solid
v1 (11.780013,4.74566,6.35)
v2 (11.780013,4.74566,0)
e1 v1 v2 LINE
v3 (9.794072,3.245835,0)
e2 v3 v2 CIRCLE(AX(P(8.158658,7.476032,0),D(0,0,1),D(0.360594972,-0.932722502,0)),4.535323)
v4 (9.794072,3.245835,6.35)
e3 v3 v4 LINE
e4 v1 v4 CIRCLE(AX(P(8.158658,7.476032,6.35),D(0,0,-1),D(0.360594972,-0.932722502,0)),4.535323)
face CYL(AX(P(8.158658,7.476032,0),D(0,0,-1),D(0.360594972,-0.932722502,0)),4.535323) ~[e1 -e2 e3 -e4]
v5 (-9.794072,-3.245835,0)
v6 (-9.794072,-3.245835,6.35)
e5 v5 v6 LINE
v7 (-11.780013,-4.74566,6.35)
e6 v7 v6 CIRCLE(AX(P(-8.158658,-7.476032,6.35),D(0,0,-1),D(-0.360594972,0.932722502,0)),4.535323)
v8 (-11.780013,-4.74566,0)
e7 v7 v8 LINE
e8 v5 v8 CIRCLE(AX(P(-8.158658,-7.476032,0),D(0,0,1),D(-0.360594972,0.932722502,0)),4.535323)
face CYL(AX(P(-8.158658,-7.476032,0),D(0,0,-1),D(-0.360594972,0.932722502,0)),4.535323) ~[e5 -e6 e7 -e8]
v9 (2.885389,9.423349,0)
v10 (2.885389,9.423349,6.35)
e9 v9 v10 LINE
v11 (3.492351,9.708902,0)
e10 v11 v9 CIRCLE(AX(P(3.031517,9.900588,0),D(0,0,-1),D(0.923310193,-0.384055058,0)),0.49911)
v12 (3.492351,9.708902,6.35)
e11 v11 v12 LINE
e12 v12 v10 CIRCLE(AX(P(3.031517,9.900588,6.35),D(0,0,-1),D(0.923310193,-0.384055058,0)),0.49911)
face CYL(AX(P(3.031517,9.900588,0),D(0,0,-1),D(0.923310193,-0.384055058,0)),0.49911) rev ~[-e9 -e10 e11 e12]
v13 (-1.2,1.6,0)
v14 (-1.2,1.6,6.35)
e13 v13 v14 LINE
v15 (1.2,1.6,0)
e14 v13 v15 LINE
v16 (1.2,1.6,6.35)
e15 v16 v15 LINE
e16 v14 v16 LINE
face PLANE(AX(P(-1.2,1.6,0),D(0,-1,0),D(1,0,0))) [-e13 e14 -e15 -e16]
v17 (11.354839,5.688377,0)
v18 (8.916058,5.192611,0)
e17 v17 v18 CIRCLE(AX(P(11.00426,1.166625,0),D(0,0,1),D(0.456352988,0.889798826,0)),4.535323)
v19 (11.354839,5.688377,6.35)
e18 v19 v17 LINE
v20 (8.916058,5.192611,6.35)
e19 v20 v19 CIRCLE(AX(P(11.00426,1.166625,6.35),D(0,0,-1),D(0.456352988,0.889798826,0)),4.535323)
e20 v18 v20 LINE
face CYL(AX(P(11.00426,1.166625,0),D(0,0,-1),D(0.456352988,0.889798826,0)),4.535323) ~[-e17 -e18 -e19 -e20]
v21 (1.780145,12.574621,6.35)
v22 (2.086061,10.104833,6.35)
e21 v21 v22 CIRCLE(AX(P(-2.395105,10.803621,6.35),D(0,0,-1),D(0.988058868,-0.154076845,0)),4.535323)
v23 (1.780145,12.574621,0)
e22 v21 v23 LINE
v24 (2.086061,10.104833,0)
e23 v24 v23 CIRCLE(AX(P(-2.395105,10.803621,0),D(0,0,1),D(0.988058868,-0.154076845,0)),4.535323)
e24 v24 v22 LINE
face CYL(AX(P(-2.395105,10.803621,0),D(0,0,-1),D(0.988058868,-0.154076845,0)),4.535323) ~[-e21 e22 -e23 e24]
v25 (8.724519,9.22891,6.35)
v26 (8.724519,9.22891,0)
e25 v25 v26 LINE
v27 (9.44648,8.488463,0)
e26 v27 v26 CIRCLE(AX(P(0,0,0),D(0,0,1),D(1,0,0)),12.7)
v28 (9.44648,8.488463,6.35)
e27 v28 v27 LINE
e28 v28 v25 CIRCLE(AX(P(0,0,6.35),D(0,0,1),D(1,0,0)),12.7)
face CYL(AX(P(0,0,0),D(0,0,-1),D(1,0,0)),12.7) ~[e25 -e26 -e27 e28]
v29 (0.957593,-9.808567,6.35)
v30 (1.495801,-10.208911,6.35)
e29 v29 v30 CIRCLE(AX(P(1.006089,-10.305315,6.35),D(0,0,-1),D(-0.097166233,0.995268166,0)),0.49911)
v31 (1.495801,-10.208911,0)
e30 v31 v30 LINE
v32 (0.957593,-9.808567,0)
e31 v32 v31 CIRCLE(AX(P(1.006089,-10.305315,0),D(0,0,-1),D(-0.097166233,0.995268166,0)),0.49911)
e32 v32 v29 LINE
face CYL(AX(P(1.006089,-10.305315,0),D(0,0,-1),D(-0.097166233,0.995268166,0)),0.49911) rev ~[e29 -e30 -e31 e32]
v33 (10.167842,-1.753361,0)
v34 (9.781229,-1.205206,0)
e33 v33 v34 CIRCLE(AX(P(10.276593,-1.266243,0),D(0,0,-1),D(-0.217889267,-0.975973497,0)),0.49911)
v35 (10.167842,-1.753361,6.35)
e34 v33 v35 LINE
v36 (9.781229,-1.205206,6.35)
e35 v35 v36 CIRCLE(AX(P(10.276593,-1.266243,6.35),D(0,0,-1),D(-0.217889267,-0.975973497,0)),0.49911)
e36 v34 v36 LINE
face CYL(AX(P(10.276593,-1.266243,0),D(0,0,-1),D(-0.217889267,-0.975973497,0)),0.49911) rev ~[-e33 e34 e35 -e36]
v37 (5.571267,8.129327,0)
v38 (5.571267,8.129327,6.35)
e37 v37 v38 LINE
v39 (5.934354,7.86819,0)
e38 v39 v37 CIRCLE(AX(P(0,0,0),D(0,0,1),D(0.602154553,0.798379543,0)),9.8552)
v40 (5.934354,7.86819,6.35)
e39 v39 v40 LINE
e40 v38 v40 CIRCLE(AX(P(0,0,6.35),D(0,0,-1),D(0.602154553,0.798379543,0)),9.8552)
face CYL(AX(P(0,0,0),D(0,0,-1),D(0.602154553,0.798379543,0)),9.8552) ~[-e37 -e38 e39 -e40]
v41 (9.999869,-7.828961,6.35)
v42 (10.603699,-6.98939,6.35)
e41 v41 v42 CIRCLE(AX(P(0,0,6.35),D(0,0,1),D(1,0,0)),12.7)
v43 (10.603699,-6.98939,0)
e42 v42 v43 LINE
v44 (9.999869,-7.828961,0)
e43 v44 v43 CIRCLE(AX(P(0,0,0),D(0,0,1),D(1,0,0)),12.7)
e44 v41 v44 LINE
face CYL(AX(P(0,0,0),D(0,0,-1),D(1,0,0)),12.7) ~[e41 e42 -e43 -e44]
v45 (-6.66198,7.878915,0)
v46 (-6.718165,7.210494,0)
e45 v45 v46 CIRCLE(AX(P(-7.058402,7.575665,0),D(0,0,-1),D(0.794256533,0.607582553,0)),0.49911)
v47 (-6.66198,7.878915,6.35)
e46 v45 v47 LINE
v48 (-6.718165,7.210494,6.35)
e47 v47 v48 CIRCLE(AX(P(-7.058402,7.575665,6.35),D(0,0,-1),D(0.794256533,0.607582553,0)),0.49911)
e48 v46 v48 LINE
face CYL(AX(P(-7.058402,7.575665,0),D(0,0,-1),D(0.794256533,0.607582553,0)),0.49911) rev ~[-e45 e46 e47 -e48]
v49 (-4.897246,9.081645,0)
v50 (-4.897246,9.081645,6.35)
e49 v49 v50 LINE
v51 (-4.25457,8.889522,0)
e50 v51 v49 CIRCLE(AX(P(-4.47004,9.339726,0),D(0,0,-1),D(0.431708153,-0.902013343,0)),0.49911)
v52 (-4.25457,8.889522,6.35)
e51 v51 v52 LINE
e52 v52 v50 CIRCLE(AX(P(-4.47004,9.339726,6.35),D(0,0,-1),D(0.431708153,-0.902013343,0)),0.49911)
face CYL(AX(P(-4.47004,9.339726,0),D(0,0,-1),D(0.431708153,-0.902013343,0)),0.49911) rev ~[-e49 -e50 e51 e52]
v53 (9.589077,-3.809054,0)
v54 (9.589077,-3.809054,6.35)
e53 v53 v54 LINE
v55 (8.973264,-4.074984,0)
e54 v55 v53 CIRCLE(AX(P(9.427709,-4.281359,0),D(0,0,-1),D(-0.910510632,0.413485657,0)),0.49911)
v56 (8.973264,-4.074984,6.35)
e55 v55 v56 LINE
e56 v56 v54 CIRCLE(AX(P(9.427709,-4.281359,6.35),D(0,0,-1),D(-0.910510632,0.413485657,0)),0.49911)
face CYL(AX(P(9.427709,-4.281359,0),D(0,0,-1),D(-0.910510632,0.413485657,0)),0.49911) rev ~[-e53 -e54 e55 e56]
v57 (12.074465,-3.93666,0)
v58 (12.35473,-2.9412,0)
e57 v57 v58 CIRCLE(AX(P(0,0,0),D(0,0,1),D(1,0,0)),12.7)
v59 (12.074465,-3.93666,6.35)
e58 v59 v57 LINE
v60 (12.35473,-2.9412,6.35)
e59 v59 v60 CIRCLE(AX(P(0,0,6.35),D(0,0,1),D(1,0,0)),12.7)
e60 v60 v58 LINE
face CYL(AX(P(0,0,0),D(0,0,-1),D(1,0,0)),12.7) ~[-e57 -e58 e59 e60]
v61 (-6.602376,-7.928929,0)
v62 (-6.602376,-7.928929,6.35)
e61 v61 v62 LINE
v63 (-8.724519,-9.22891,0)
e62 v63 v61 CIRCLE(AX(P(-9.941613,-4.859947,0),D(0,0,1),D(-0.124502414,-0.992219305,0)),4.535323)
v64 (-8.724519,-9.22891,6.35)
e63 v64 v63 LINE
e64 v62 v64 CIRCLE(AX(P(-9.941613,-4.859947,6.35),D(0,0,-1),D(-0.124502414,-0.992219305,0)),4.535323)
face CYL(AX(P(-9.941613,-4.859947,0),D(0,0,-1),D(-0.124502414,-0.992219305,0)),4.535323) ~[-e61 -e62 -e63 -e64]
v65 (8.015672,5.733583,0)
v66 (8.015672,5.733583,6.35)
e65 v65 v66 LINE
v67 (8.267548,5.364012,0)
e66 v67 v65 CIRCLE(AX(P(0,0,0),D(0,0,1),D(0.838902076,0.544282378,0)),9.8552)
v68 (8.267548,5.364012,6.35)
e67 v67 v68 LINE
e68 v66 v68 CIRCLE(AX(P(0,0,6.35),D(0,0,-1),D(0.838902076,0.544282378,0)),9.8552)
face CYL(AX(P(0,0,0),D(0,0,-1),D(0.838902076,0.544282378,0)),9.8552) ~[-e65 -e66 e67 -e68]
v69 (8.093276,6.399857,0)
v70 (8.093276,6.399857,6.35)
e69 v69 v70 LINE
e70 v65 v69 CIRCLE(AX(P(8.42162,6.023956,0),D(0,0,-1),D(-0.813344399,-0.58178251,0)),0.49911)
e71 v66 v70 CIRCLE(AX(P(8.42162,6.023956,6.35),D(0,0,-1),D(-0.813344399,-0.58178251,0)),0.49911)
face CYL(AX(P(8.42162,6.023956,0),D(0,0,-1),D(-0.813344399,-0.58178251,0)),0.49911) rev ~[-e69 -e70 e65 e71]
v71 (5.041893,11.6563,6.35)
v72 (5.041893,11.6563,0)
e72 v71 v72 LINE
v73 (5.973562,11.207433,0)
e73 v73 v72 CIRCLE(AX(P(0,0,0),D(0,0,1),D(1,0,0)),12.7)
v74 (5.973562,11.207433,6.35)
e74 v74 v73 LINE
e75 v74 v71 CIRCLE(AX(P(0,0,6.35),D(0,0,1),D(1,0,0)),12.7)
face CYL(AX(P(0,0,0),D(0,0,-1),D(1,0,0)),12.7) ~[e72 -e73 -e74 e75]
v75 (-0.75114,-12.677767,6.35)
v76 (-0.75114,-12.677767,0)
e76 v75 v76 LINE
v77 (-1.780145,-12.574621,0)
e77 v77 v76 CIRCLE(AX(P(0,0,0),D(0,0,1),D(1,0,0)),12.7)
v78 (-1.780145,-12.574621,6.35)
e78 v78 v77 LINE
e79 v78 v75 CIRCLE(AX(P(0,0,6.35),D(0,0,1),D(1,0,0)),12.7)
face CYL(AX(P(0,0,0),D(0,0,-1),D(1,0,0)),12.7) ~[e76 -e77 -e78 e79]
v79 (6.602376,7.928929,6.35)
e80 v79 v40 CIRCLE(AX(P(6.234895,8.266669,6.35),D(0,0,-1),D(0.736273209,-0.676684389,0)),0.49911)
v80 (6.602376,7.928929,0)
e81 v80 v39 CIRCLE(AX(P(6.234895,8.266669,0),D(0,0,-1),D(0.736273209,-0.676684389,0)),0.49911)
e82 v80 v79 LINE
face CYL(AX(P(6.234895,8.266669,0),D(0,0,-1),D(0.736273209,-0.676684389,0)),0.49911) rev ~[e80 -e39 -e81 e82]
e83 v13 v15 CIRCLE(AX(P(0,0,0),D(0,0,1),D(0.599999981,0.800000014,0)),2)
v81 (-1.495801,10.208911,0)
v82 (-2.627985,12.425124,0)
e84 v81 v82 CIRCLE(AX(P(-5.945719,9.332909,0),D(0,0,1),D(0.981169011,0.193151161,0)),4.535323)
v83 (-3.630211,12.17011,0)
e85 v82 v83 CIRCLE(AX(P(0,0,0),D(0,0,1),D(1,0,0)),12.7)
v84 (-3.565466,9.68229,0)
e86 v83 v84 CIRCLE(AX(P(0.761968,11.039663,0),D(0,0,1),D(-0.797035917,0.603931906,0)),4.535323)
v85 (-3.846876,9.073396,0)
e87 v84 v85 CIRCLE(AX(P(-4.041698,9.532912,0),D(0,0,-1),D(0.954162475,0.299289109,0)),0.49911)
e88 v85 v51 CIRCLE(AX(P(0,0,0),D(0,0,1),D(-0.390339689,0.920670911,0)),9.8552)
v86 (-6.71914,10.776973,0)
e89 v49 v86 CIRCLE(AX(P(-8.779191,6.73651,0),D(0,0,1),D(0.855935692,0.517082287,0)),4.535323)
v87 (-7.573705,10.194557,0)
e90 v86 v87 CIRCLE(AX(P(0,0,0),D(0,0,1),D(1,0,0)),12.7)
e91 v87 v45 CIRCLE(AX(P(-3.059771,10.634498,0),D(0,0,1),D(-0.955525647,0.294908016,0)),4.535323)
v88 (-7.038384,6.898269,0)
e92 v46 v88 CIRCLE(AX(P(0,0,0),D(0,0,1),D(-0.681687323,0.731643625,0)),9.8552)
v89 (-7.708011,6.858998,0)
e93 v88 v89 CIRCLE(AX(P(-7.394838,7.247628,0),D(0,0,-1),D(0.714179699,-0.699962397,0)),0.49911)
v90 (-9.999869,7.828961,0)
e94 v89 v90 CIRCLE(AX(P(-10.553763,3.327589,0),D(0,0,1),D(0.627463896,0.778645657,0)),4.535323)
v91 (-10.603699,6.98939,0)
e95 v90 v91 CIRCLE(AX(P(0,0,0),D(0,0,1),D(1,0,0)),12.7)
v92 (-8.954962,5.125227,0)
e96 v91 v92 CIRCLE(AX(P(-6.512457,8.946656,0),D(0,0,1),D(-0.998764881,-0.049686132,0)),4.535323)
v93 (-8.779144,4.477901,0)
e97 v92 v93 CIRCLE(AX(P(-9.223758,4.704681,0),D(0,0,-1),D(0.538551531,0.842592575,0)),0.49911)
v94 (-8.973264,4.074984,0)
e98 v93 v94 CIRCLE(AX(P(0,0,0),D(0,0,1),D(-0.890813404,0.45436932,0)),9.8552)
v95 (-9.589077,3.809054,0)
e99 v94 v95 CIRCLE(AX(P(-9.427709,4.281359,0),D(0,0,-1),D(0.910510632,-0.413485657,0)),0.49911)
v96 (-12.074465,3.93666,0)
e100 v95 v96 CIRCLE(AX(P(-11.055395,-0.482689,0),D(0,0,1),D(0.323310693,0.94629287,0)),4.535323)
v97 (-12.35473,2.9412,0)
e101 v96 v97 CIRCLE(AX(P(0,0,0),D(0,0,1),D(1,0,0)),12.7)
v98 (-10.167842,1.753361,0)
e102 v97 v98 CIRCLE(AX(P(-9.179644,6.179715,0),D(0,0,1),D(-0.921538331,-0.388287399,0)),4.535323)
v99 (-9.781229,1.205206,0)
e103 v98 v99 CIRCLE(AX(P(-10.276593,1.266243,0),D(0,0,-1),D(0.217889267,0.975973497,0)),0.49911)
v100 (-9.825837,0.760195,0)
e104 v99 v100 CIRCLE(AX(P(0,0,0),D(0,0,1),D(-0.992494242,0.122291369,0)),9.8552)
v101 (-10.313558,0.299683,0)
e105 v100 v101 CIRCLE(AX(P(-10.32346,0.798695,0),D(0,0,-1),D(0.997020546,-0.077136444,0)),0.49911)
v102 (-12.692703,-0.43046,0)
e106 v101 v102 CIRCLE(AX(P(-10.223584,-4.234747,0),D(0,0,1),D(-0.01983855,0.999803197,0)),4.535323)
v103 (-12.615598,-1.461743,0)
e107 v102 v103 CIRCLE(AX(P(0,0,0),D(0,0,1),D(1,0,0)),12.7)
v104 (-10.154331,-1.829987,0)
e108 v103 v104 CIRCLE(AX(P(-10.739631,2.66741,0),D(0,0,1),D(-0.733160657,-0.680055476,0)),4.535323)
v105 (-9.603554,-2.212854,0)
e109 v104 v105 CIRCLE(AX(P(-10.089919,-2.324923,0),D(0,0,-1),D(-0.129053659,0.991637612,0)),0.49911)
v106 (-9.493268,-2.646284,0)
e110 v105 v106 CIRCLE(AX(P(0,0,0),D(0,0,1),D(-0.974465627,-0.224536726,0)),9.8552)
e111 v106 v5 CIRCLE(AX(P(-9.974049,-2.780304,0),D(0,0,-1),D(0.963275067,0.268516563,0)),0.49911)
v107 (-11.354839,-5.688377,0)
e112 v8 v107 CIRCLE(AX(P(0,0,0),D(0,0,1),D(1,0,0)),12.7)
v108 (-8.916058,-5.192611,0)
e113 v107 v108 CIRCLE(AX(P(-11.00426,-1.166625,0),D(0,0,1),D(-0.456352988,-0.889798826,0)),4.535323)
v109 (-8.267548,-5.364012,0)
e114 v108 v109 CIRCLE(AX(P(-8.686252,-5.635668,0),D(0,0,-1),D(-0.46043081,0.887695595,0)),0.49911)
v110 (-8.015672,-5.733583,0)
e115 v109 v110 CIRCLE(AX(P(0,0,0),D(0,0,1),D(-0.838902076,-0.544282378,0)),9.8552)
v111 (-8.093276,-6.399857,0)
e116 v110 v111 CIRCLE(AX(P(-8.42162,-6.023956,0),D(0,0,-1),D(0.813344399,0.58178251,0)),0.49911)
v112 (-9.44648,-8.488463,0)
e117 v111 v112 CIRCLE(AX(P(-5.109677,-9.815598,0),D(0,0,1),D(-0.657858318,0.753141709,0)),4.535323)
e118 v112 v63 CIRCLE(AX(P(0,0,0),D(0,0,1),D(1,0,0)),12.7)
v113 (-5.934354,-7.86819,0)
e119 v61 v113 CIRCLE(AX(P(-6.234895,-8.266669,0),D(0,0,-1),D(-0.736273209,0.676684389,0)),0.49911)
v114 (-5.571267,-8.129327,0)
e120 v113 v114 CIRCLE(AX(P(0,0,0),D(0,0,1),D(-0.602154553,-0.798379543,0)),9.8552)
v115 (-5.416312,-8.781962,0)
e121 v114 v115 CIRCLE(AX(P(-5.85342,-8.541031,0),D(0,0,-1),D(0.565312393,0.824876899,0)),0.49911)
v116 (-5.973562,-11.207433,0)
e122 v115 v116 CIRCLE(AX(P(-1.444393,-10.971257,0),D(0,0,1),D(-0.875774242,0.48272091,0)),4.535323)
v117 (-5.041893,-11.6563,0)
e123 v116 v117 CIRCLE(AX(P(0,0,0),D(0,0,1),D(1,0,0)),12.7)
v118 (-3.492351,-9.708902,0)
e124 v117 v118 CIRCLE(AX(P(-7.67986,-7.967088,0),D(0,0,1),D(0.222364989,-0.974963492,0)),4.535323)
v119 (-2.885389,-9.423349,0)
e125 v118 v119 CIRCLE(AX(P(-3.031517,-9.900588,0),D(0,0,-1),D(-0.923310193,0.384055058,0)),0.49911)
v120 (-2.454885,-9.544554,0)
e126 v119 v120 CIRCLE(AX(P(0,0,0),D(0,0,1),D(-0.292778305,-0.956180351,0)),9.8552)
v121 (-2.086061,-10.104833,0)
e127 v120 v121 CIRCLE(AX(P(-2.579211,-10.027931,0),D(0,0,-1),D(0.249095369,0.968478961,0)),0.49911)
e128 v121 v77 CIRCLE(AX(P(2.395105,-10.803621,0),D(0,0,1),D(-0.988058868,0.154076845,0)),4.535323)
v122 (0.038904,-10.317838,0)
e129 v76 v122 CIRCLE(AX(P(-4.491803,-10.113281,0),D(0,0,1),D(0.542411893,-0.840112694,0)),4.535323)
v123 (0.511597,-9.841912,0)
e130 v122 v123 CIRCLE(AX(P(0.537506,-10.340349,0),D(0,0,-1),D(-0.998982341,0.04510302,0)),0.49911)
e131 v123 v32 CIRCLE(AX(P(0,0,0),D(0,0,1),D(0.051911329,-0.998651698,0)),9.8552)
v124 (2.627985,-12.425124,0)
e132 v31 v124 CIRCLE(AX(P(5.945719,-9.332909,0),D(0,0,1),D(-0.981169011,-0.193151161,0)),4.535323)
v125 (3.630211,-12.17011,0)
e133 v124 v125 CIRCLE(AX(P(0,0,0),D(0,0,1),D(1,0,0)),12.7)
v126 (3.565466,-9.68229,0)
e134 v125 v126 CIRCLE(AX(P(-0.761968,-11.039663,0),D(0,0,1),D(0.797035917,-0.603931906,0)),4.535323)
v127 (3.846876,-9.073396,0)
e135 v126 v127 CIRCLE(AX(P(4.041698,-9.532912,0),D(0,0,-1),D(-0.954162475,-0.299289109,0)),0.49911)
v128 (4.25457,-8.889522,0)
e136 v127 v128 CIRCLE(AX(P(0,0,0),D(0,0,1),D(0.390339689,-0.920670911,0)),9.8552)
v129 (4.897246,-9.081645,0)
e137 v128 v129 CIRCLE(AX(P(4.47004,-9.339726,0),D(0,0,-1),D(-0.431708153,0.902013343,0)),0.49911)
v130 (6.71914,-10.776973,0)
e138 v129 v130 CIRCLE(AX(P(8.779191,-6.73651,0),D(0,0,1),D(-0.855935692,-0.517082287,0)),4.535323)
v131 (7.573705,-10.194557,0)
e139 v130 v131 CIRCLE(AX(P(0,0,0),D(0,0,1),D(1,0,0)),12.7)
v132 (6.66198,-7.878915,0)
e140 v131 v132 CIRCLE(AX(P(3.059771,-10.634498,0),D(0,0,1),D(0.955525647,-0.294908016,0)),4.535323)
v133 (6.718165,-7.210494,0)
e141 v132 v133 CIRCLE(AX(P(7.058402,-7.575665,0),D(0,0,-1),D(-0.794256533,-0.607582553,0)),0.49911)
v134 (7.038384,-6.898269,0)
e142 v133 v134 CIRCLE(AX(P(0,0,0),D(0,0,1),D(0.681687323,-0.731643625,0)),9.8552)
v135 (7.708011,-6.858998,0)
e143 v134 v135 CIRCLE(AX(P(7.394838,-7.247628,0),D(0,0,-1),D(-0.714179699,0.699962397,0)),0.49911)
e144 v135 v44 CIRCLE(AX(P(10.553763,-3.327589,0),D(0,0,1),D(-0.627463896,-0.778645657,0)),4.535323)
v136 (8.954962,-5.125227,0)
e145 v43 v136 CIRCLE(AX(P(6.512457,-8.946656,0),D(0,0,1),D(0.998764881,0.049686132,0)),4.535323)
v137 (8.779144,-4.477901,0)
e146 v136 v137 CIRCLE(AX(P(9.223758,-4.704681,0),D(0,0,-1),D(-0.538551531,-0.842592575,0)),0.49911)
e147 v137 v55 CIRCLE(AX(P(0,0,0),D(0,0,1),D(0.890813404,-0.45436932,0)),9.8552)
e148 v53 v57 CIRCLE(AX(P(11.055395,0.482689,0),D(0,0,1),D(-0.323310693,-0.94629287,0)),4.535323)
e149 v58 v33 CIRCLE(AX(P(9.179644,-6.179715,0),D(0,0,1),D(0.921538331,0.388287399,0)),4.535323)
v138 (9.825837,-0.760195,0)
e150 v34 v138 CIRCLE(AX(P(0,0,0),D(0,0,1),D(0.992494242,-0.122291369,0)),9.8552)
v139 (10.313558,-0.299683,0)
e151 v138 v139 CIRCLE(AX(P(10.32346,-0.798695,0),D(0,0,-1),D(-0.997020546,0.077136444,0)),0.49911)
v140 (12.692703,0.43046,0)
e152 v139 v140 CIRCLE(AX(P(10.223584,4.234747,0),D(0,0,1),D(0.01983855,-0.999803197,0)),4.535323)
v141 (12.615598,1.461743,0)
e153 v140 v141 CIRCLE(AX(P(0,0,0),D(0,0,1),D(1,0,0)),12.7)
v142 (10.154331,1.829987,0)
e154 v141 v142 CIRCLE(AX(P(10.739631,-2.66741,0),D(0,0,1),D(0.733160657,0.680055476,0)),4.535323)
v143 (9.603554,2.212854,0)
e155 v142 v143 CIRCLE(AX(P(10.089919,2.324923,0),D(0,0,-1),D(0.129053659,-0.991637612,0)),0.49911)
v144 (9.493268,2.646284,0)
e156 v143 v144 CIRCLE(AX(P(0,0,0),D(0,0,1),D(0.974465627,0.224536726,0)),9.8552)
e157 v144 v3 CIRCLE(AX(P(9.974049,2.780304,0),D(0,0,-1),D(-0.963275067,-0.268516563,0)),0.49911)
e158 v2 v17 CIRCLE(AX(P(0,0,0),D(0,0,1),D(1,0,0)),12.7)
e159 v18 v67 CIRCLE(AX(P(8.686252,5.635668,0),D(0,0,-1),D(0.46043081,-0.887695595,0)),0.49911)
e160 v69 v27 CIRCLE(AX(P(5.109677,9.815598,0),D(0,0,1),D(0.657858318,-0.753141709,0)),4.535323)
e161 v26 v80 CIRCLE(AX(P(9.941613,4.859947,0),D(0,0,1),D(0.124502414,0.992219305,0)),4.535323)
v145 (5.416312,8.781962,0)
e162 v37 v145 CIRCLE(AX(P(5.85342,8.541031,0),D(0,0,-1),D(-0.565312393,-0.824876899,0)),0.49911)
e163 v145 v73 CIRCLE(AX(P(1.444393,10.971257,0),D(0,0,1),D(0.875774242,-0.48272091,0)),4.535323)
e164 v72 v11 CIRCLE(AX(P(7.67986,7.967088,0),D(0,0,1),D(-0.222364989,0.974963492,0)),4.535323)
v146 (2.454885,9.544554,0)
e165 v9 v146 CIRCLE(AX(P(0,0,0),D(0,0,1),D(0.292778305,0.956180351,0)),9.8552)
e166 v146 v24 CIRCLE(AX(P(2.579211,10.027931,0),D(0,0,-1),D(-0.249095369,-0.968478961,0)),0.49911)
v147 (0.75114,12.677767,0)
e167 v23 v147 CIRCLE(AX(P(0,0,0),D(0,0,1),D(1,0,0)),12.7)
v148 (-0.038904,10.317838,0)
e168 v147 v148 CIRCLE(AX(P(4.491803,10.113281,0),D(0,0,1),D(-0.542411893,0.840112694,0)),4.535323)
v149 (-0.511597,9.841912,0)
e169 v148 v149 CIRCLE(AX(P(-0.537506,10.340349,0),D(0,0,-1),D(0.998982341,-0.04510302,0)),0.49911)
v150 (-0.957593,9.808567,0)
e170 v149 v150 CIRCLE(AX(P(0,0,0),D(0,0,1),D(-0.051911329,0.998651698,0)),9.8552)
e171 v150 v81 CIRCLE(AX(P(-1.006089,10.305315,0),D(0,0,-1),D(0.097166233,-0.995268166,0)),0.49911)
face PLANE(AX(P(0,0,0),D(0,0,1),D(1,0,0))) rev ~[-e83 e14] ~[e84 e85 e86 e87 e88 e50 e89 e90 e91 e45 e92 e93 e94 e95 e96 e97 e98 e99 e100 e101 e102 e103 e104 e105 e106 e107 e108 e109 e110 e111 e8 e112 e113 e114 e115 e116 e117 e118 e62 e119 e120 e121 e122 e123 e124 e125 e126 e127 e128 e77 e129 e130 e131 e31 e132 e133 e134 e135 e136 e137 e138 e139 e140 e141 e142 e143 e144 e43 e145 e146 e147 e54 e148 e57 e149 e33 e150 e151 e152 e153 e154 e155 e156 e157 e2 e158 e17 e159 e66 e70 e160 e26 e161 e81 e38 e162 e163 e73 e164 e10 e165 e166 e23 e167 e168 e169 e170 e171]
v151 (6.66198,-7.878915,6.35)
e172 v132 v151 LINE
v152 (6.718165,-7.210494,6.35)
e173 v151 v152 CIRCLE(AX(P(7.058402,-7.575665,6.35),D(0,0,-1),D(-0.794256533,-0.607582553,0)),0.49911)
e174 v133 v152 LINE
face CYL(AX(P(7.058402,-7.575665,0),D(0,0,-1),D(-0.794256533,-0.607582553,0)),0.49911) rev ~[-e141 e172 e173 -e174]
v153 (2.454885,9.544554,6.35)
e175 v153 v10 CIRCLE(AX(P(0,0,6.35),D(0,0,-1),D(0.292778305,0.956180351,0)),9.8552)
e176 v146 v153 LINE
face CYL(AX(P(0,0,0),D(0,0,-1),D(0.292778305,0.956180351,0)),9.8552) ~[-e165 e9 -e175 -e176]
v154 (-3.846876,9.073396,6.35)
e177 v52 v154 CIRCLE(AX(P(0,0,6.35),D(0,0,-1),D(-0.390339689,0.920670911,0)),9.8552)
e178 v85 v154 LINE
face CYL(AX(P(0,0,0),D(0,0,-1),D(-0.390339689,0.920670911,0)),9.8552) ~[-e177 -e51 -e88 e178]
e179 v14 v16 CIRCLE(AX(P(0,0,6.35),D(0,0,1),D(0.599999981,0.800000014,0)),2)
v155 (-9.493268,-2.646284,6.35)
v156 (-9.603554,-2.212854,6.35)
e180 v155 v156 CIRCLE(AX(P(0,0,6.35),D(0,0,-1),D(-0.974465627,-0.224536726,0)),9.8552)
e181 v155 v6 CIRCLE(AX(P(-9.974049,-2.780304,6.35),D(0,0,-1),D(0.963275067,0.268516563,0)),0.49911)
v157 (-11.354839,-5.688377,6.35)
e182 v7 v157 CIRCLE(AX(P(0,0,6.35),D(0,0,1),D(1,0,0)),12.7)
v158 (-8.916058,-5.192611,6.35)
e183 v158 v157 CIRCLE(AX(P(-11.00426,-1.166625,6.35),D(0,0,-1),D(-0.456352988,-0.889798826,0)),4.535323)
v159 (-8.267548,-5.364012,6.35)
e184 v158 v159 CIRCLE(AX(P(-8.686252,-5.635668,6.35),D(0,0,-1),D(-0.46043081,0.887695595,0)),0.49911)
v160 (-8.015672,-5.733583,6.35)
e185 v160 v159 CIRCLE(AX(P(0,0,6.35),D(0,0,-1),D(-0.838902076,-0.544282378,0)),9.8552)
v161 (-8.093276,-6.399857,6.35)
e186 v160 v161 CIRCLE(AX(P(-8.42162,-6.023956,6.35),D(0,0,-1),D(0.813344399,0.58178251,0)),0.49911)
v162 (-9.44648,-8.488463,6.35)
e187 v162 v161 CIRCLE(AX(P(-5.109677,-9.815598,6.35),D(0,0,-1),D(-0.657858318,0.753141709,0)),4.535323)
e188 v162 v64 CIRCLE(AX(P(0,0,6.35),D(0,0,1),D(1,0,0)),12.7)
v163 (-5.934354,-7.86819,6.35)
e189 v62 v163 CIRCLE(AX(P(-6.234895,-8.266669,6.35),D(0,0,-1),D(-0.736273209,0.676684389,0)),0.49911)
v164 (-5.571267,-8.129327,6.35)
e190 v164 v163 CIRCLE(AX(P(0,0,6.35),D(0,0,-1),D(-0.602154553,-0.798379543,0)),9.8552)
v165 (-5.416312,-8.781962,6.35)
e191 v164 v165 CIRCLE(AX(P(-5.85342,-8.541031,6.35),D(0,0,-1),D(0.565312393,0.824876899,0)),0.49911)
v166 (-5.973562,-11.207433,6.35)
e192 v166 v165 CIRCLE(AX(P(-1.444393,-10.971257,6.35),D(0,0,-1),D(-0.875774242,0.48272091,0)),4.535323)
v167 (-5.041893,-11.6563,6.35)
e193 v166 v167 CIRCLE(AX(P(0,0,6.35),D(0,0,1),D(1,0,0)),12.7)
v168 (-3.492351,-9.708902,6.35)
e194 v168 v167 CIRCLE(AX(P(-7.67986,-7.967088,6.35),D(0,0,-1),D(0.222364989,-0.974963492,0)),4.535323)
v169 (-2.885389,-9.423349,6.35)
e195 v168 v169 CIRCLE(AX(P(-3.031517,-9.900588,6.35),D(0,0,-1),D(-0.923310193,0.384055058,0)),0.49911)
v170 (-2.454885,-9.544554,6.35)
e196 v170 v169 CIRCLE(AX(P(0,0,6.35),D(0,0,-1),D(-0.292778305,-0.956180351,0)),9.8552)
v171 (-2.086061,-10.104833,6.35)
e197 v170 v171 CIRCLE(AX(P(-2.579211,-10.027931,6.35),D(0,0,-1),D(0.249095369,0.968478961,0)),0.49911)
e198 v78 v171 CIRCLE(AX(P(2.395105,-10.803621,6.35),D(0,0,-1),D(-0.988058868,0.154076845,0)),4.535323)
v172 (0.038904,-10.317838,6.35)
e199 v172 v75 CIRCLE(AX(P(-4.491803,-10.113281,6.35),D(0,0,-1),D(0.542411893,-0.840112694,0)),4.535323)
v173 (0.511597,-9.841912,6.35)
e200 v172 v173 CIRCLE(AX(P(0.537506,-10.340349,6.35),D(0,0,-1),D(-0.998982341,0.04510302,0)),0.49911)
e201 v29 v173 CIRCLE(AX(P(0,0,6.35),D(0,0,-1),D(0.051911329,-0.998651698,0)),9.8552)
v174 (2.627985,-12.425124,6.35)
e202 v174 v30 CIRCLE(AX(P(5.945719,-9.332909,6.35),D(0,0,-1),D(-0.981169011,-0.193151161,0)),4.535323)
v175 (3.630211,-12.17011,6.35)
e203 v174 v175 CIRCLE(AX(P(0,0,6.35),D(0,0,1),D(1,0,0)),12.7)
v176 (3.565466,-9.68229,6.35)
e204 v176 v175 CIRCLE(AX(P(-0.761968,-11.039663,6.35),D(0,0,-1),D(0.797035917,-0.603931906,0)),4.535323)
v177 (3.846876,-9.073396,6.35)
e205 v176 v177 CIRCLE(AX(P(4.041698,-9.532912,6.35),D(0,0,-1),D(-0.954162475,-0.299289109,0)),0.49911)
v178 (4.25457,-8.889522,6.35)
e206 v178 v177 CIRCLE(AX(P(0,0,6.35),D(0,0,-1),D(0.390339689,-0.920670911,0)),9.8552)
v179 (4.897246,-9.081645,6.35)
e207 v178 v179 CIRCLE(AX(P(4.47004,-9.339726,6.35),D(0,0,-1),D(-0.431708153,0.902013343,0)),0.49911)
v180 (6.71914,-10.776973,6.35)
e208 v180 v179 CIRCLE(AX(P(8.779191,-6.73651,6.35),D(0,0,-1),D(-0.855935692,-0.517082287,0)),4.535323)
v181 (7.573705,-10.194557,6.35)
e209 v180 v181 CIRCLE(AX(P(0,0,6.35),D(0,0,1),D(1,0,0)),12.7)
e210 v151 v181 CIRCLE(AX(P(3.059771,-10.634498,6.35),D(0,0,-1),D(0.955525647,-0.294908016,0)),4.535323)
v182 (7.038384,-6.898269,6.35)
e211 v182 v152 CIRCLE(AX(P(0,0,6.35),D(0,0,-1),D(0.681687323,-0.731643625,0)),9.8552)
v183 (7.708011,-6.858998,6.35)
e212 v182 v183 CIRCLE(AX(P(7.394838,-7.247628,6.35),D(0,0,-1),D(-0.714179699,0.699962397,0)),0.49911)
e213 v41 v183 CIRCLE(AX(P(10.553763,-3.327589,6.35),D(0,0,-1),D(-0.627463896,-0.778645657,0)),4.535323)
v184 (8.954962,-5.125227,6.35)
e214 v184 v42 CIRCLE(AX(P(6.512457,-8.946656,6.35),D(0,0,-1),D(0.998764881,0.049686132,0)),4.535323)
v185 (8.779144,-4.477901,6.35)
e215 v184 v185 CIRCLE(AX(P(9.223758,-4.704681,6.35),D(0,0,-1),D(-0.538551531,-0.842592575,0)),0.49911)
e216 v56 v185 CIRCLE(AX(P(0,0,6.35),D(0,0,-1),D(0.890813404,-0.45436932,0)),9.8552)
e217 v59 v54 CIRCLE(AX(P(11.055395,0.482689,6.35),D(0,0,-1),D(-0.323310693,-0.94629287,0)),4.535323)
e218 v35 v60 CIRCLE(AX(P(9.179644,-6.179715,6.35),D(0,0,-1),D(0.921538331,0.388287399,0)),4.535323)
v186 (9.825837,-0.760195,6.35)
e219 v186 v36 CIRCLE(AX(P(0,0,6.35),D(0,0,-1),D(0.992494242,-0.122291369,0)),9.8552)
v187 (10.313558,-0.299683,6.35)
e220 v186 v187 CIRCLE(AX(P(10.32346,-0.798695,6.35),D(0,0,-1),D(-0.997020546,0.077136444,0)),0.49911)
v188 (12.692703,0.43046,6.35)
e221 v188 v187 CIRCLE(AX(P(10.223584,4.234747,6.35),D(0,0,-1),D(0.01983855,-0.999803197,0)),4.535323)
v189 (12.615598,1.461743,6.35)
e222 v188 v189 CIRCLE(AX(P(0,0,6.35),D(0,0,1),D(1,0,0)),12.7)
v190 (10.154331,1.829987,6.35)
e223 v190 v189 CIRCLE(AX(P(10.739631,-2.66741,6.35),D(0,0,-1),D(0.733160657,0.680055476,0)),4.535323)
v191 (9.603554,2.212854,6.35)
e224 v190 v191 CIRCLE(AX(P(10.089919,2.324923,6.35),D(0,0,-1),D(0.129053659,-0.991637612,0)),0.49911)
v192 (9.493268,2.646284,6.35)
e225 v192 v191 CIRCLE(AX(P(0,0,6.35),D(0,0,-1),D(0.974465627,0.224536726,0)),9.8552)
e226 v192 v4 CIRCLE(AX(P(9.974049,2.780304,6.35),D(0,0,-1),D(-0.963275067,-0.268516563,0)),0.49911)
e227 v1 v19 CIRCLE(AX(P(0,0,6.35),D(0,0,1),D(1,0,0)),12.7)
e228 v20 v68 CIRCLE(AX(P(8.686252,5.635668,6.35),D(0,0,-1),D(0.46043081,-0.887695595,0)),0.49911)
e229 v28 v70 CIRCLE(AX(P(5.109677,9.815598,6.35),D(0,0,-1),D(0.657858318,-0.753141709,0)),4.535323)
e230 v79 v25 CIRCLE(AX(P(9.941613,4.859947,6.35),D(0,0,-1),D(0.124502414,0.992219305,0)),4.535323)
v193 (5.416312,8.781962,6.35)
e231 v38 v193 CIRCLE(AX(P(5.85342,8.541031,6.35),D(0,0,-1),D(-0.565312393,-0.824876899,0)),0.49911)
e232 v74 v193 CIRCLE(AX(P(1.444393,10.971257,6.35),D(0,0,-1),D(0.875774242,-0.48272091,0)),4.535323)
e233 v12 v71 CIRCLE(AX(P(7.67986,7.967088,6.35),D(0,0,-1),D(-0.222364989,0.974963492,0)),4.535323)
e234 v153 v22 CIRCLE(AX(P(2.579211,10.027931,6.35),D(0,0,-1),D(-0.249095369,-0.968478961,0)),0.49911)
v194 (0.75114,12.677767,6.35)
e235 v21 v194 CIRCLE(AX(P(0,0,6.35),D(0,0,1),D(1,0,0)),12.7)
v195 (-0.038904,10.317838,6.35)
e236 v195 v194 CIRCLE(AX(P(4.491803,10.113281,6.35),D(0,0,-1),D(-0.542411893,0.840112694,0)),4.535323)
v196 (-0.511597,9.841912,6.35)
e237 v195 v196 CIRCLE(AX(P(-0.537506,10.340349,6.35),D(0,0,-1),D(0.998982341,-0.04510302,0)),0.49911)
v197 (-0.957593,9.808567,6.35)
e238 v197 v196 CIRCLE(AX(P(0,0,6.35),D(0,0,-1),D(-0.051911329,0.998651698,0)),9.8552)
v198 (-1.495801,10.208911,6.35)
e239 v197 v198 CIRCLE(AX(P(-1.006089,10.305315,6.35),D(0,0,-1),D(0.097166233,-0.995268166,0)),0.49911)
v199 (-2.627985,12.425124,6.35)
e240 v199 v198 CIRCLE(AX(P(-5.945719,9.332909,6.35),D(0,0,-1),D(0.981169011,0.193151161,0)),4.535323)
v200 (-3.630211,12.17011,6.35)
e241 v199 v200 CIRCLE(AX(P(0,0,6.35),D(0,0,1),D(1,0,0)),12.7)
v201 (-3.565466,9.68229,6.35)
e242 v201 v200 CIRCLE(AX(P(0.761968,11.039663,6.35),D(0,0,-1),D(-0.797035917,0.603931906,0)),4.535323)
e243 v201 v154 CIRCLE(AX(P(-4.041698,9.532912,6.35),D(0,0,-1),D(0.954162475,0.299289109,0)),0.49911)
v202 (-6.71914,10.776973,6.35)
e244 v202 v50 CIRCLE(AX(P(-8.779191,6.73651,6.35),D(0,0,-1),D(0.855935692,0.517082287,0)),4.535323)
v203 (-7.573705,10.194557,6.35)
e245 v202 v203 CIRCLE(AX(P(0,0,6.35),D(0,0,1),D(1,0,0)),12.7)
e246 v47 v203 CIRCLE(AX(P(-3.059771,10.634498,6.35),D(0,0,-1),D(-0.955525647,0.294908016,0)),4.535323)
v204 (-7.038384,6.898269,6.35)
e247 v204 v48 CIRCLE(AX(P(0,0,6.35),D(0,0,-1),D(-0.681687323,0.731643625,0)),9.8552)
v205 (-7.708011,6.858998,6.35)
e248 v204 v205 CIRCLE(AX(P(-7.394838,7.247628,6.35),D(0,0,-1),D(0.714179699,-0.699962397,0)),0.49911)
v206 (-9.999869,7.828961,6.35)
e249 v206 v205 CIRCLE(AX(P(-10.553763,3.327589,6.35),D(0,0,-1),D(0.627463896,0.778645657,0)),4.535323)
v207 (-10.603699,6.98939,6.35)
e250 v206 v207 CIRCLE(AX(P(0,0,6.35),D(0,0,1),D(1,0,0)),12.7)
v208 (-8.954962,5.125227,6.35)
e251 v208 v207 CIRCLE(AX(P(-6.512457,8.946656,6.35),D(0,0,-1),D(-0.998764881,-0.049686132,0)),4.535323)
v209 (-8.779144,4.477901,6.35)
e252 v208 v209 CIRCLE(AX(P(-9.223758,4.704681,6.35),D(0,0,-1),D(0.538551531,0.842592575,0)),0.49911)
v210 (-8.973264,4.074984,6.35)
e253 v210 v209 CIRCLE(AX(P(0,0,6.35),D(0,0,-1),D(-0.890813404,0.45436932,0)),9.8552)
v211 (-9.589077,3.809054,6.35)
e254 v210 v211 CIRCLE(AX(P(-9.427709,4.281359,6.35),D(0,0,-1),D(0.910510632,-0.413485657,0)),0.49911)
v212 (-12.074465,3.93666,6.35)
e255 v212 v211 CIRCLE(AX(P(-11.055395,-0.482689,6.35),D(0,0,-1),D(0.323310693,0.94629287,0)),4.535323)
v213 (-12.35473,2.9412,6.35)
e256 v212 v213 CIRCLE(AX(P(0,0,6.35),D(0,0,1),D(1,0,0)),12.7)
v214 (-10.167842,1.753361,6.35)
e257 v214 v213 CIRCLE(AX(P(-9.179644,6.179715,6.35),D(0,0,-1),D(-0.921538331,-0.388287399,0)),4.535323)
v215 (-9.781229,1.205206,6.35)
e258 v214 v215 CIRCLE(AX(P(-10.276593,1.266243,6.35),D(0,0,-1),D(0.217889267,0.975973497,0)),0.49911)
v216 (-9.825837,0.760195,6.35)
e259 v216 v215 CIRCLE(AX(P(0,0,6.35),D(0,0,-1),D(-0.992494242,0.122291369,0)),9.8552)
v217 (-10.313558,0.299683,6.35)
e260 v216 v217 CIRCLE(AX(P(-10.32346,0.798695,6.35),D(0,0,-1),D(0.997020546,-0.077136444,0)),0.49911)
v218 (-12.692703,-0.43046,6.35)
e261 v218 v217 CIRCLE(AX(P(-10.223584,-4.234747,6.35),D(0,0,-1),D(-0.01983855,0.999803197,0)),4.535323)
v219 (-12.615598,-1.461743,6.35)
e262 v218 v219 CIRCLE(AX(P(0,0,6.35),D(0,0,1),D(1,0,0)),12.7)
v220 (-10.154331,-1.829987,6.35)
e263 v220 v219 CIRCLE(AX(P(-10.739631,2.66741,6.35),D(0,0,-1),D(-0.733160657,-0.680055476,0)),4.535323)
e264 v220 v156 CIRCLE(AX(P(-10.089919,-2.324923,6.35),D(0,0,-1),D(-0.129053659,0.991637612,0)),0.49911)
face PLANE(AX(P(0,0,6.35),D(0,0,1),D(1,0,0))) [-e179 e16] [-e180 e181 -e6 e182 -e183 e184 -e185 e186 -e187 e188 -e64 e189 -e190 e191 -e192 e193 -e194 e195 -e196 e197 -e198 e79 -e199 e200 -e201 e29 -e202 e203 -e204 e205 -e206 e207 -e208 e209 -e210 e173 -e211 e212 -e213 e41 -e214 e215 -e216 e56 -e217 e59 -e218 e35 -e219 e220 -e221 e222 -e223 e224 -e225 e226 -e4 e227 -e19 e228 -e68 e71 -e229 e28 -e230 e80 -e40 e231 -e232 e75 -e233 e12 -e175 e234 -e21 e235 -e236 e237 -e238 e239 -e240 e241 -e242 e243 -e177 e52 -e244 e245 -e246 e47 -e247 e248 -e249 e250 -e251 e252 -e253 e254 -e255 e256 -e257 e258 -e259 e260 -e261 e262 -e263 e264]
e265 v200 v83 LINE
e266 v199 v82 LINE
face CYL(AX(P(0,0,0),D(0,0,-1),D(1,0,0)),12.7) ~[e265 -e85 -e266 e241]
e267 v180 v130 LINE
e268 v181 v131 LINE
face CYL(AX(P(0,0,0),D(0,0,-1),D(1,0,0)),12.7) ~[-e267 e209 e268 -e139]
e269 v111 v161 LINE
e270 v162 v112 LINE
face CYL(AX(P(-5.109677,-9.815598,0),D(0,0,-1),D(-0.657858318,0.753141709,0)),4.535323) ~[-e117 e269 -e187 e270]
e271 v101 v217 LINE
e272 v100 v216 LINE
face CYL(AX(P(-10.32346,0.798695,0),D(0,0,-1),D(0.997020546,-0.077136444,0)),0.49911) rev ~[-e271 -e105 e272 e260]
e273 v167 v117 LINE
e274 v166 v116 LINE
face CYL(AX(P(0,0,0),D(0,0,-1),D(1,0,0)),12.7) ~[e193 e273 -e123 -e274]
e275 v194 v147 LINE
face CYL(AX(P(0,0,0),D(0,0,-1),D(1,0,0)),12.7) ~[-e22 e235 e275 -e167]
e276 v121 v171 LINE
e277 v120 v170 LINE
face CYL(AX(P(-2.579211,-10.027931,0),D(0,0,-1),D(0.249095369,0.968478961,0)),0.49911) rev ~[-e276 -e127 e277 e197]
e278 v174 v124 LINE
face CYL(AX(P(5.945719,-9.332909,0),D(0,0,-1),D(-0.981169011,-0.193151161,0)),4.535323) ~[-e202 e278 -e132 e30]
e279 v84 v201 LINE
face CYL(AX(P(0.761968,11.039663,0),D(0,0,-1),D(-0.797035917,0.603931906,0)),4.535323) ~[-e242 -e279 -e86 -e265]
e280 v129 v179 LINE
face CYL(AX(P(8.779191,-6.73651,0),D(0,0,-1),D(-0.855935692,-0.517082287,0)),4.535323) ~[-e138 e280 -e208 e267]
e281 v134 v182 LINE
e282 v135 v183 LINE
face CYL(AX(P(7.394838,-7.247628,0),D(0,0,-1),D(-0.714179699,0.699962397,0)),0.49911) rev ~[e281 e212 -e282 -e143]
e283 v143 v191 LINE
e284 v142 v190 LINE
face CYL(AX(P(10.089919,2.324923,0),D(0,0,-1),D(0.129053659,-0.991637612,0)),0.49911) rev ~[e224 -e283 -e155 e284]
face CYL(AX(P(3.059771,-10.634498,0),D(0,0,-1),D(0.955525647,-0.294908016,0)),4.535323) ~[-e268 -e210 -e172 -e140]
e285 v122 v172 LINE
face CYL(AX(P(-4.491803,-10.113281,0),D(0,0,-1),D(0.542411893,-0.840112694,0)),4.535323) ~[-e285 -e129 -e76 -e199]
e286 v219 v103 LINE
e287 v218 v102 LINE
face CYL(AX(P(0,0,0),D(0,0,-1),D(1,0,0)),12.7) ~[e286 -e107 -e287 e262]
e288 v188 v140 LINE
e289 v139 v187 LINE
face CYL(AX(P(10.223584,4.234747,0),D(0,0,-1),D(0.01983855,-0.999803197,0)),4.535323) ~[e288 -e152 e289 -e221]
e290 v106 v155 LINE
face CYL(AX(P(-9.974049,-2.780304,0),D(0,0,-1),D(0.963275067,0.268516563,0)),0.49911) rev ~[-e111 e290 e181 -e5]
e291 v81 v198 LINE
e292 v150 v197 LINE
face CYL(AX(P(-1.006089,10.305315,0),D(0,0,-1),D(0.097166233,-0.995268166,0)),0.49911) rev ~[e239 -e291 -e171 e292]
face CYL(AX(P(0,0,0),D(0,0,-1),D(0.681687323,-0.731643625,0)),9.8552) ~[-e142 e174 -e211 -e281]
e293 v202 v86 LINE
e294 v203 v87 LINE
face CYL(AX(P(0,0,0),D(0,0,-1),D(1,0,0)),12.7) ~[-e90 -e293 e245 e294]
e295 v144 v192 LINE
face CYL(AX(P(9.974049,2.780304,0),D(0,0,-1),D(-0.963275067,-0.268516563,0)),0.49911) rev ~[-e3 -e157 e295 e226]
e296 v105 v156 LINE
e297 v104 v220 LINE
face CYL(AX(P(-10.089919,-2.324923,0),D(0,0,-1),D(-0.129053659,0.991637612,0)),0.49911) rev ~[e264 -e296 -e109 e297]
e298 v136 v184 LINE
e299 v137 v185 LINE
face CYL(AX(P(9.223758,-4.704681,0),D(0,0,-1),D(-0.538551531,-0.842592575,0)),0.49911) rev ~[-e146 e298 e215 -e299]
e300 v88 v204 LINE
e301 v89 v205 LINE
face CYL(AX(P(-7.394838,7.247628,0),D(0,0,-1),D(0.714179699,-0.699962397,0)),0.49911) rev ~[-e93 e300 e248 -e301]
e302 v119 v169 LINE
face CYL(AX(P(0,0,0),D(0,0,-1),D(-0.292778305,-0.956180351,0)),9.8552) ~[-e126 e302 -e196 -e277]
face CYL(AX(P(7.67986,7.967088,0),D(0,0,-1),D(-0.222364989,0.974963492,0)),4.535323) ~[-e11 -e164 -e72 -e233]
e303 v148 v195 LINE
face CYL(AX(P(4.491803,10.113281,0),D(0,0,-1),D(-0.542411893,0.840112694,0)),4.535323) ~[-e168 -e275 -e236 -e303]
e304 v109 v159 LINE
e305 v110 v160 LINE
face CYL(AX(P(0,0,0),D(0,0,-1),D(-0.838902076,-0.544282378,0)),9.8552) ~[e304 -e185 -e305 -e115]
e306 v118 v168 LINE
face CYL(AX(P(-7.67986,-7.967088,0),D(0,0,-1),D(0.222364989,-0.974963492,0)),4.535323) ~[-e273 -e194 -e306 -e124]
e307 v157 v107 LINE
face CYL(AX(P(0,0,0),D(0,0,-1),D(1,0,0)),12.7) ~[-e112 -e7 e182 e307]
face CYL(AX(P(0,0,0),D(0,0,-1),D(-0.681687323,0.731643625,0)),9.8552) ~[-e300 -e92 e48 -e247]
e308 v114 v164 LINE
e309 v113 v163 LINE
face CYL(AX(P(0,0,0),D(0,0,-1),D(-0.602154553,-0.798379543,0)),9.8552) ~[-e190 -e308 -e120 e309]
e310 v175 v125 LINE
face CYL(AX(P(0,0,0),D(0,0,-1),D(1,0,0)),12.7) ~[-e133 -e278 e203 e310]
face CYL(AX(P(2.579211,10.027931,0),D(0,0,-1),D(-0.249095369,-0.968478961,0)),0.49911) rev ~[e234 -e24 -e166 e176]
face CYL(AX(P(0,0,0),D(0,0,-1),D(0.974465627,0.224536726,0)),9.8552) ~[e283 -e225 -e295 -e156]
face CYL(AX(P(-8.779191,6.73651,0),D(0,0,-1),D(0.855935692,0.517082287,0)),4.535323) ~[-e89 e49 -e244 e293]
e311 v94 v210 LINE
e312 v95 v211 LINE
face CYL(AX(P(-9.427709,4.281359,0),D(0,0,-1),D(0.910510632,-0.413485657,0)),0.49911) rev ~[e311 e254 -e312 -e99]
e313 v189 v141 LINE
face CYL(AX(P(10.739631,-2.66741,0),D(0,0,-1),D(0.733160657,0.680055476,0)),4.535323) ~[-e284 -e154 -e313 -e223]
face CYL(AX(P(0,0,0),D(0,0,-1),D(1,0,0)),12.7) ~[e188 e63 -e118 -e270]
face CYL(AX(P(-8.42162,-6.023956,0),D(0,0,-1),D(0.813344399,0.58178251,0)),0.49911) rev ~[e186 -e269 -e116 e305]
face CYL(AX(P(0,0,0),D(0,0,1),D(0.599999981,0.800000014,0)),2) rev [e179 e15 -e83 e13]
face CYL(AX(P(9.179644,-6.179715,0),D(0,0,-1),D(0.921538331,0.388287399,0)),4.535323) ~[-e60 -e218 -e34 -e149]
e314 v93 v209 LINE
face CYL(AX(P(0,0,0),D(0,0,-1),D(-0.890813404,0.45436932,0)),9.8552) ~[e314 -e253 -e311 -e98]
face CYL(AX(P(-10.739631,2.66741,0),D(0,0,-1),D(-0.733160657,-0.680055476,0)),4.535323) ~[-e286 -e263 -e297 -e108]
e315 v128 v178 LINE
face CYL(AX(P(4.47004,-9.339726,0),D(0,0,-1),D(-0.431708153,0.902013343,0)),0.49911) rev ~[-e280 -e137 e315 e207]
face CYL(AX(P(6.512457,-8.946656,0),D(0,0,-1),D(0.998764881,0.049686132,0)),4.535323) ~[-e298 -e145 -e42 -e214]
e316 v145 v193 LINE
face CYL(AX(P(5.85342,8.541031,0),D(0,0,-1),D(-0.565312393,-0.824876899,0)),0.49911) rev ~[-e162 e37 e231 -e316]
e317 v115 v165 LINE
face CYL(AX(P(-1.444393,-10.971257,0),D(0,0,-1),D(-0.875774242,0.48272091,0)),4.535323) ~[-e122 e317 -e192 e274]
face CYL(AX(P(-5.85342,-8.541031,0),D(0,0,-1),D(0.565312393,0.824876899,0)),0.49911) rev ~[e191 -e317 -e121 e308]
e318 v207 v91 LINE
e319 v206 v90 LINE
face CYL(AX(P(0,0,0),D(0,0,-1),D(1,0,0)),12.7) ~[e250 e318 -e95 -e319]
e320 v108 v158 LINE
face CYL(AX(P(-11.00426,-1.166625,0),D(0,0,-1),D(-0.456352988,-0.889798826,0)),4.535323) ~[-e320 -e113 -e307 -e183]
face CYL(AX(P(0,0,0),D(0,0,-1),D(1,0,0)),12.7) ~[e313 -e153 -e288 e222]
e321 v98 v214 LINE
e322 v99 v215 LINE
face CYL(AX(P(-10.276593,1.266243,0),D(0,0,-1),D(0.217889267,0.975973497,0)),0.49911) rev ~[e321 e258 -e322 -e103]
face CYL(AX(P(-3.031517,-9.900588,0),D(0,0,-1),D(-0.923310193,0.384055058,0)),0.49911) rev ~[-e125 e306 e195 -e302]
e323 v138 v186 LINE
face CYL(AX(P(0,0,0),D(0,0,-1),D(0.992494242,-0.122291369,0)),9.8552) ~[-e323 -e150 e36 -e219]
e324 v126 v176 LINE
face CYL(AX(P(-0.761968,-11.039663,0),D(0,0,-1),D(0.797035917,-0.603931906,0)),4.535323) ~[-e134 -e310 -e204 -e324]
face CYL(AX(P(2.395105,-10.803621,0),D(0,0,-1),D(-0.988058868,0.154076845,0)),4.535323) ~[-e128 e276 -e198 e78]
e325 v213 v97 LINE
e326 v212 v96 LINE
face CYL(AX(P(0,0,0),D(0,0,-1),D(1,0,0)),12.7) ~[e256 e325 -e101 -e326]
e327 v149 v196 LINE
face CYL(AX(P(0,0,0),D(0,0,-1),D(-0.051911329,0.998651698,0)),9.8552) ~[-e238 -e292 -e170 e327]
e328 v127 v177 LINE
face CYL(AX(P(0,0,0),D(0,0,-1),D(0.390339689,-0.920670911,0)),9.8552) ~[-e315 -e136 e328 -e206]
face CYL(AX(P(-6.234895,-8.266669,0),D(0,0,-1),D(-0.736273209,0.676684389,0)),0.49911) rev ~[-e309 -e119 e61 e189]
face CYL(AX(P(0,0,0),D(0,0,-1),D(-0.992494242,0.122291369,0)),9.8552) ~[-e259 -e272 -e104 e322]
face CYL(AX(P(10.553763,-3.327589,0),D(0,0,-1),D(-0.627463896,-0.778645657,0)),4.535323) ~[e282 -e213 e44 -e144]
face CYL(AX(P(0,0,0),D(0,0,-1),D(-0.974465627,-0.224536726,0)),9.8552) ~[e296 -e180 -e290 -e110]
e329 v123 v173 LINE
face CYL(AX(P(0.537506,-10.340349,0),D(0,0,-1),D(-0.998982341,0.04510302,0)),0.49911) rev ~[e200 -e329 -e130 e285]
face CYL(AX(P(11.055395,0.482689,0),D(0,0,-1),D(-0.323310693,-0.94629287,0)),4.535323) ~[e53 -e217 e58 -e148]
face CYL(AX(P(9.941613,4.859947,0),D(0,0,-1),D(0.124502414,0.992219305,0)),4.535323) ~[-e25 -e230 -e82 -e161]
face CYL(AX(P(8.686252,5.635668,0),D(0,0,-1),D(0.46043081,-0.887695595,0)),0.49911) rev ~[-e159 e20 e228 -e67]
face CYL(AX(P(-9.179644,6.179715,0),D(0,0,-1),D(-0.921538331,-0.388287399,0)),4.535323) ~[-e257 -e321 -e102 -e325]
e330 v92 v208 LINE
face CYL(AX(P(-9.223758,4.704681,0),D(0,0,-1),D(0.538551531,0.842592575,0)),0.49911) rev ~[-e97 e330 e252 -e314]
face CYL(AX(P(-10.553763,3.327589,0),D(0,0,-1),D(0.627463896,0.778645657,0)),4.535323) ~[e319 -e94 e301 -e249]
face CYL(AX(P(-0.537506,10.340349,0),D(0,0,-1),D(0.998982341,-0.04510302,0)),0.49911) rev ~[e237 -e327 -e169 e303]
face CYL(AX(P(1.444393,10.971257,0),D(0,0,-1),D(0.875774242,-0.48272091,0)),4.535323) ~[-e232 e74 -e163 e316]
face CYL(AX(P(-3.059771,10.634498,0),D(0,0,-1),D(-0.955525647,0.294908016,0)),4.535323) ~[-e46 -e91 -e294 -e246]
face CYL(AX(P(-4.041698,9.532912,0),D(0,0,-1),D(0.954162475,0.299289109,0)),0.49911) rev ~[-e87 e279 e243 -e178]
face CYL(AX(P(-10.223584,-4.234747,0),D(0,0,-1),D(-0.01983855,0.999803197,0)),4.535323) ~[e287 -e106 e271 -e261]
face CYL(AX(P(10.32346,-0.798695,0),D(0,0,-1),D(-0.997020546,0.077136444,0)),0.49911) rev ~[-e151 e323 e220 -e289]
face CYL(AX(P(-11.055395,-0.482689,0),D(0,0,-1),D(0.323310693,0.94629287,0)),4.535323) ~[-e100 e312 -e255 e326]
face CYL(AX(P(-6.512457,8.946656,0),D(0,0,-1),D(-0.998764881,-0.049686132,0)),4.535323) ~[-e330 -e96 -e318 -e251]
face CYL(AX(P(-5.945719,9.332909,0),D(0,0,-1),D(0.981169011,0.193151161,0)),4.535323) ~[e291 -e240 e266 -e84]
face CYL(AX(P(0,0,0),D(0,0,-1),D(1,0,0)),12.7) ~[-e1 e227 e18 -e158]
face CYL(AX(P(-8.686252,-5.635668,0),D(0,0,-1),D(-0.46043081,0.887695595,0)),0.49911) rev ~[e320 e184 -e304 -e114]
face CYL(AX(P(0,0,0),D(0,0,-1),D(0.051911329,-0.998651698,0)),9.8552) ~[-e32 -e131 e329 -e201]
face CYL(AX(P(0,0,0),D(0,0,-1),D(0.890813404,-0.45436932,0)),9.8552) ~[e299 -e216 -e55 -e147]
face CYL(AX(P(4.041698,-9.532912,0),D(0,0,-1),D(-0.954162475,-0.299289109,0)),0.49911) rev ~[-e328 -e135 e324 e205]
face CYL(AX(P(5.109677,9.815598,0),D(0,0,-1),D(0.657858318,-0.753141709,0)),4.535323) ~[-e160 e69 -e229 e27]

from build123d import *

# Parameters (mm, degrees)
SKETCH3_R         = 12.7
GEARBODY_DEPTH    = 6.35
TOOTHCUT_DEPTH    = 7.35
CIRPATTERN1_COUNT = 18
BORE_DEPTH        = 12.7


with BuildPart() as part:
    # Sketch3 → gearBody (new body)
    with BuildSketch(Plane.XY):
        Circle(SKETCH3_R)
    extrude(amount=GEARBODY_DEPTH)

    # Sketch2 → toothCut (cut, through all)
    with BuildSketch(Plane.XY):
        with BuildLine():
            ThreePointArc((9.781229257, -1.205205904), (9.806057787, -0.982953571), (9.825836884, -0.760195085))
            ThreePointArc((9.825836884, -0.760195085), (9.980803767, -0.435792976), (10.31355819, -0.299682883))
            ThreePointArc((10.31355819, -0.299682883), (12.38209996, 0.246018063), (13.970369973, 1.679214819))
            ThreePointArc((13.970369973, 1.679214819), (14.000763839, -1.403428484), (13.359117821, -4.418706897))
            ThreePointArc((13.359117821, -4.418706897), (12.0869153, -2.698778026), (10.167842346, -1.753360882))
            ThreePointArc((10.167842346, -1.753360882), (9.868724138, -1.553912241), (9.781229257, -1.205205904))
        make_face()
    toothcut = extrude(amount=TOOTHCUT_DEPTH, mode=Mode.SUBTRACT)

    # CirPattern1: toothCut ×18 about axis
    cirpattern1_axis = Axis((0, 0, 0), (0, 0, 1))
    for i in range(1, CIRPATTERN1_COUNT):
        add(toothcut.rotate(cirpattern1_axis, i * 360 / CIRPATTERN1_COUNT), mode=Mode.SUBTRACT)

    # boreDia → bore (cut, symmetric)
    with BuildSketch(Plane.XY):
        with BuildLine():
            Line((-1.2, 1.60000008), (1.2, 1.60000008))
            ThreePointArc((1.2, 1.60000008), (0, -2.000000064), (-1.2, 1.60000008))
        make_face()
    extrude(amount=BORE_DEPTH, both=True, mode=Mode.SUBTRACT)


solid = part.part
